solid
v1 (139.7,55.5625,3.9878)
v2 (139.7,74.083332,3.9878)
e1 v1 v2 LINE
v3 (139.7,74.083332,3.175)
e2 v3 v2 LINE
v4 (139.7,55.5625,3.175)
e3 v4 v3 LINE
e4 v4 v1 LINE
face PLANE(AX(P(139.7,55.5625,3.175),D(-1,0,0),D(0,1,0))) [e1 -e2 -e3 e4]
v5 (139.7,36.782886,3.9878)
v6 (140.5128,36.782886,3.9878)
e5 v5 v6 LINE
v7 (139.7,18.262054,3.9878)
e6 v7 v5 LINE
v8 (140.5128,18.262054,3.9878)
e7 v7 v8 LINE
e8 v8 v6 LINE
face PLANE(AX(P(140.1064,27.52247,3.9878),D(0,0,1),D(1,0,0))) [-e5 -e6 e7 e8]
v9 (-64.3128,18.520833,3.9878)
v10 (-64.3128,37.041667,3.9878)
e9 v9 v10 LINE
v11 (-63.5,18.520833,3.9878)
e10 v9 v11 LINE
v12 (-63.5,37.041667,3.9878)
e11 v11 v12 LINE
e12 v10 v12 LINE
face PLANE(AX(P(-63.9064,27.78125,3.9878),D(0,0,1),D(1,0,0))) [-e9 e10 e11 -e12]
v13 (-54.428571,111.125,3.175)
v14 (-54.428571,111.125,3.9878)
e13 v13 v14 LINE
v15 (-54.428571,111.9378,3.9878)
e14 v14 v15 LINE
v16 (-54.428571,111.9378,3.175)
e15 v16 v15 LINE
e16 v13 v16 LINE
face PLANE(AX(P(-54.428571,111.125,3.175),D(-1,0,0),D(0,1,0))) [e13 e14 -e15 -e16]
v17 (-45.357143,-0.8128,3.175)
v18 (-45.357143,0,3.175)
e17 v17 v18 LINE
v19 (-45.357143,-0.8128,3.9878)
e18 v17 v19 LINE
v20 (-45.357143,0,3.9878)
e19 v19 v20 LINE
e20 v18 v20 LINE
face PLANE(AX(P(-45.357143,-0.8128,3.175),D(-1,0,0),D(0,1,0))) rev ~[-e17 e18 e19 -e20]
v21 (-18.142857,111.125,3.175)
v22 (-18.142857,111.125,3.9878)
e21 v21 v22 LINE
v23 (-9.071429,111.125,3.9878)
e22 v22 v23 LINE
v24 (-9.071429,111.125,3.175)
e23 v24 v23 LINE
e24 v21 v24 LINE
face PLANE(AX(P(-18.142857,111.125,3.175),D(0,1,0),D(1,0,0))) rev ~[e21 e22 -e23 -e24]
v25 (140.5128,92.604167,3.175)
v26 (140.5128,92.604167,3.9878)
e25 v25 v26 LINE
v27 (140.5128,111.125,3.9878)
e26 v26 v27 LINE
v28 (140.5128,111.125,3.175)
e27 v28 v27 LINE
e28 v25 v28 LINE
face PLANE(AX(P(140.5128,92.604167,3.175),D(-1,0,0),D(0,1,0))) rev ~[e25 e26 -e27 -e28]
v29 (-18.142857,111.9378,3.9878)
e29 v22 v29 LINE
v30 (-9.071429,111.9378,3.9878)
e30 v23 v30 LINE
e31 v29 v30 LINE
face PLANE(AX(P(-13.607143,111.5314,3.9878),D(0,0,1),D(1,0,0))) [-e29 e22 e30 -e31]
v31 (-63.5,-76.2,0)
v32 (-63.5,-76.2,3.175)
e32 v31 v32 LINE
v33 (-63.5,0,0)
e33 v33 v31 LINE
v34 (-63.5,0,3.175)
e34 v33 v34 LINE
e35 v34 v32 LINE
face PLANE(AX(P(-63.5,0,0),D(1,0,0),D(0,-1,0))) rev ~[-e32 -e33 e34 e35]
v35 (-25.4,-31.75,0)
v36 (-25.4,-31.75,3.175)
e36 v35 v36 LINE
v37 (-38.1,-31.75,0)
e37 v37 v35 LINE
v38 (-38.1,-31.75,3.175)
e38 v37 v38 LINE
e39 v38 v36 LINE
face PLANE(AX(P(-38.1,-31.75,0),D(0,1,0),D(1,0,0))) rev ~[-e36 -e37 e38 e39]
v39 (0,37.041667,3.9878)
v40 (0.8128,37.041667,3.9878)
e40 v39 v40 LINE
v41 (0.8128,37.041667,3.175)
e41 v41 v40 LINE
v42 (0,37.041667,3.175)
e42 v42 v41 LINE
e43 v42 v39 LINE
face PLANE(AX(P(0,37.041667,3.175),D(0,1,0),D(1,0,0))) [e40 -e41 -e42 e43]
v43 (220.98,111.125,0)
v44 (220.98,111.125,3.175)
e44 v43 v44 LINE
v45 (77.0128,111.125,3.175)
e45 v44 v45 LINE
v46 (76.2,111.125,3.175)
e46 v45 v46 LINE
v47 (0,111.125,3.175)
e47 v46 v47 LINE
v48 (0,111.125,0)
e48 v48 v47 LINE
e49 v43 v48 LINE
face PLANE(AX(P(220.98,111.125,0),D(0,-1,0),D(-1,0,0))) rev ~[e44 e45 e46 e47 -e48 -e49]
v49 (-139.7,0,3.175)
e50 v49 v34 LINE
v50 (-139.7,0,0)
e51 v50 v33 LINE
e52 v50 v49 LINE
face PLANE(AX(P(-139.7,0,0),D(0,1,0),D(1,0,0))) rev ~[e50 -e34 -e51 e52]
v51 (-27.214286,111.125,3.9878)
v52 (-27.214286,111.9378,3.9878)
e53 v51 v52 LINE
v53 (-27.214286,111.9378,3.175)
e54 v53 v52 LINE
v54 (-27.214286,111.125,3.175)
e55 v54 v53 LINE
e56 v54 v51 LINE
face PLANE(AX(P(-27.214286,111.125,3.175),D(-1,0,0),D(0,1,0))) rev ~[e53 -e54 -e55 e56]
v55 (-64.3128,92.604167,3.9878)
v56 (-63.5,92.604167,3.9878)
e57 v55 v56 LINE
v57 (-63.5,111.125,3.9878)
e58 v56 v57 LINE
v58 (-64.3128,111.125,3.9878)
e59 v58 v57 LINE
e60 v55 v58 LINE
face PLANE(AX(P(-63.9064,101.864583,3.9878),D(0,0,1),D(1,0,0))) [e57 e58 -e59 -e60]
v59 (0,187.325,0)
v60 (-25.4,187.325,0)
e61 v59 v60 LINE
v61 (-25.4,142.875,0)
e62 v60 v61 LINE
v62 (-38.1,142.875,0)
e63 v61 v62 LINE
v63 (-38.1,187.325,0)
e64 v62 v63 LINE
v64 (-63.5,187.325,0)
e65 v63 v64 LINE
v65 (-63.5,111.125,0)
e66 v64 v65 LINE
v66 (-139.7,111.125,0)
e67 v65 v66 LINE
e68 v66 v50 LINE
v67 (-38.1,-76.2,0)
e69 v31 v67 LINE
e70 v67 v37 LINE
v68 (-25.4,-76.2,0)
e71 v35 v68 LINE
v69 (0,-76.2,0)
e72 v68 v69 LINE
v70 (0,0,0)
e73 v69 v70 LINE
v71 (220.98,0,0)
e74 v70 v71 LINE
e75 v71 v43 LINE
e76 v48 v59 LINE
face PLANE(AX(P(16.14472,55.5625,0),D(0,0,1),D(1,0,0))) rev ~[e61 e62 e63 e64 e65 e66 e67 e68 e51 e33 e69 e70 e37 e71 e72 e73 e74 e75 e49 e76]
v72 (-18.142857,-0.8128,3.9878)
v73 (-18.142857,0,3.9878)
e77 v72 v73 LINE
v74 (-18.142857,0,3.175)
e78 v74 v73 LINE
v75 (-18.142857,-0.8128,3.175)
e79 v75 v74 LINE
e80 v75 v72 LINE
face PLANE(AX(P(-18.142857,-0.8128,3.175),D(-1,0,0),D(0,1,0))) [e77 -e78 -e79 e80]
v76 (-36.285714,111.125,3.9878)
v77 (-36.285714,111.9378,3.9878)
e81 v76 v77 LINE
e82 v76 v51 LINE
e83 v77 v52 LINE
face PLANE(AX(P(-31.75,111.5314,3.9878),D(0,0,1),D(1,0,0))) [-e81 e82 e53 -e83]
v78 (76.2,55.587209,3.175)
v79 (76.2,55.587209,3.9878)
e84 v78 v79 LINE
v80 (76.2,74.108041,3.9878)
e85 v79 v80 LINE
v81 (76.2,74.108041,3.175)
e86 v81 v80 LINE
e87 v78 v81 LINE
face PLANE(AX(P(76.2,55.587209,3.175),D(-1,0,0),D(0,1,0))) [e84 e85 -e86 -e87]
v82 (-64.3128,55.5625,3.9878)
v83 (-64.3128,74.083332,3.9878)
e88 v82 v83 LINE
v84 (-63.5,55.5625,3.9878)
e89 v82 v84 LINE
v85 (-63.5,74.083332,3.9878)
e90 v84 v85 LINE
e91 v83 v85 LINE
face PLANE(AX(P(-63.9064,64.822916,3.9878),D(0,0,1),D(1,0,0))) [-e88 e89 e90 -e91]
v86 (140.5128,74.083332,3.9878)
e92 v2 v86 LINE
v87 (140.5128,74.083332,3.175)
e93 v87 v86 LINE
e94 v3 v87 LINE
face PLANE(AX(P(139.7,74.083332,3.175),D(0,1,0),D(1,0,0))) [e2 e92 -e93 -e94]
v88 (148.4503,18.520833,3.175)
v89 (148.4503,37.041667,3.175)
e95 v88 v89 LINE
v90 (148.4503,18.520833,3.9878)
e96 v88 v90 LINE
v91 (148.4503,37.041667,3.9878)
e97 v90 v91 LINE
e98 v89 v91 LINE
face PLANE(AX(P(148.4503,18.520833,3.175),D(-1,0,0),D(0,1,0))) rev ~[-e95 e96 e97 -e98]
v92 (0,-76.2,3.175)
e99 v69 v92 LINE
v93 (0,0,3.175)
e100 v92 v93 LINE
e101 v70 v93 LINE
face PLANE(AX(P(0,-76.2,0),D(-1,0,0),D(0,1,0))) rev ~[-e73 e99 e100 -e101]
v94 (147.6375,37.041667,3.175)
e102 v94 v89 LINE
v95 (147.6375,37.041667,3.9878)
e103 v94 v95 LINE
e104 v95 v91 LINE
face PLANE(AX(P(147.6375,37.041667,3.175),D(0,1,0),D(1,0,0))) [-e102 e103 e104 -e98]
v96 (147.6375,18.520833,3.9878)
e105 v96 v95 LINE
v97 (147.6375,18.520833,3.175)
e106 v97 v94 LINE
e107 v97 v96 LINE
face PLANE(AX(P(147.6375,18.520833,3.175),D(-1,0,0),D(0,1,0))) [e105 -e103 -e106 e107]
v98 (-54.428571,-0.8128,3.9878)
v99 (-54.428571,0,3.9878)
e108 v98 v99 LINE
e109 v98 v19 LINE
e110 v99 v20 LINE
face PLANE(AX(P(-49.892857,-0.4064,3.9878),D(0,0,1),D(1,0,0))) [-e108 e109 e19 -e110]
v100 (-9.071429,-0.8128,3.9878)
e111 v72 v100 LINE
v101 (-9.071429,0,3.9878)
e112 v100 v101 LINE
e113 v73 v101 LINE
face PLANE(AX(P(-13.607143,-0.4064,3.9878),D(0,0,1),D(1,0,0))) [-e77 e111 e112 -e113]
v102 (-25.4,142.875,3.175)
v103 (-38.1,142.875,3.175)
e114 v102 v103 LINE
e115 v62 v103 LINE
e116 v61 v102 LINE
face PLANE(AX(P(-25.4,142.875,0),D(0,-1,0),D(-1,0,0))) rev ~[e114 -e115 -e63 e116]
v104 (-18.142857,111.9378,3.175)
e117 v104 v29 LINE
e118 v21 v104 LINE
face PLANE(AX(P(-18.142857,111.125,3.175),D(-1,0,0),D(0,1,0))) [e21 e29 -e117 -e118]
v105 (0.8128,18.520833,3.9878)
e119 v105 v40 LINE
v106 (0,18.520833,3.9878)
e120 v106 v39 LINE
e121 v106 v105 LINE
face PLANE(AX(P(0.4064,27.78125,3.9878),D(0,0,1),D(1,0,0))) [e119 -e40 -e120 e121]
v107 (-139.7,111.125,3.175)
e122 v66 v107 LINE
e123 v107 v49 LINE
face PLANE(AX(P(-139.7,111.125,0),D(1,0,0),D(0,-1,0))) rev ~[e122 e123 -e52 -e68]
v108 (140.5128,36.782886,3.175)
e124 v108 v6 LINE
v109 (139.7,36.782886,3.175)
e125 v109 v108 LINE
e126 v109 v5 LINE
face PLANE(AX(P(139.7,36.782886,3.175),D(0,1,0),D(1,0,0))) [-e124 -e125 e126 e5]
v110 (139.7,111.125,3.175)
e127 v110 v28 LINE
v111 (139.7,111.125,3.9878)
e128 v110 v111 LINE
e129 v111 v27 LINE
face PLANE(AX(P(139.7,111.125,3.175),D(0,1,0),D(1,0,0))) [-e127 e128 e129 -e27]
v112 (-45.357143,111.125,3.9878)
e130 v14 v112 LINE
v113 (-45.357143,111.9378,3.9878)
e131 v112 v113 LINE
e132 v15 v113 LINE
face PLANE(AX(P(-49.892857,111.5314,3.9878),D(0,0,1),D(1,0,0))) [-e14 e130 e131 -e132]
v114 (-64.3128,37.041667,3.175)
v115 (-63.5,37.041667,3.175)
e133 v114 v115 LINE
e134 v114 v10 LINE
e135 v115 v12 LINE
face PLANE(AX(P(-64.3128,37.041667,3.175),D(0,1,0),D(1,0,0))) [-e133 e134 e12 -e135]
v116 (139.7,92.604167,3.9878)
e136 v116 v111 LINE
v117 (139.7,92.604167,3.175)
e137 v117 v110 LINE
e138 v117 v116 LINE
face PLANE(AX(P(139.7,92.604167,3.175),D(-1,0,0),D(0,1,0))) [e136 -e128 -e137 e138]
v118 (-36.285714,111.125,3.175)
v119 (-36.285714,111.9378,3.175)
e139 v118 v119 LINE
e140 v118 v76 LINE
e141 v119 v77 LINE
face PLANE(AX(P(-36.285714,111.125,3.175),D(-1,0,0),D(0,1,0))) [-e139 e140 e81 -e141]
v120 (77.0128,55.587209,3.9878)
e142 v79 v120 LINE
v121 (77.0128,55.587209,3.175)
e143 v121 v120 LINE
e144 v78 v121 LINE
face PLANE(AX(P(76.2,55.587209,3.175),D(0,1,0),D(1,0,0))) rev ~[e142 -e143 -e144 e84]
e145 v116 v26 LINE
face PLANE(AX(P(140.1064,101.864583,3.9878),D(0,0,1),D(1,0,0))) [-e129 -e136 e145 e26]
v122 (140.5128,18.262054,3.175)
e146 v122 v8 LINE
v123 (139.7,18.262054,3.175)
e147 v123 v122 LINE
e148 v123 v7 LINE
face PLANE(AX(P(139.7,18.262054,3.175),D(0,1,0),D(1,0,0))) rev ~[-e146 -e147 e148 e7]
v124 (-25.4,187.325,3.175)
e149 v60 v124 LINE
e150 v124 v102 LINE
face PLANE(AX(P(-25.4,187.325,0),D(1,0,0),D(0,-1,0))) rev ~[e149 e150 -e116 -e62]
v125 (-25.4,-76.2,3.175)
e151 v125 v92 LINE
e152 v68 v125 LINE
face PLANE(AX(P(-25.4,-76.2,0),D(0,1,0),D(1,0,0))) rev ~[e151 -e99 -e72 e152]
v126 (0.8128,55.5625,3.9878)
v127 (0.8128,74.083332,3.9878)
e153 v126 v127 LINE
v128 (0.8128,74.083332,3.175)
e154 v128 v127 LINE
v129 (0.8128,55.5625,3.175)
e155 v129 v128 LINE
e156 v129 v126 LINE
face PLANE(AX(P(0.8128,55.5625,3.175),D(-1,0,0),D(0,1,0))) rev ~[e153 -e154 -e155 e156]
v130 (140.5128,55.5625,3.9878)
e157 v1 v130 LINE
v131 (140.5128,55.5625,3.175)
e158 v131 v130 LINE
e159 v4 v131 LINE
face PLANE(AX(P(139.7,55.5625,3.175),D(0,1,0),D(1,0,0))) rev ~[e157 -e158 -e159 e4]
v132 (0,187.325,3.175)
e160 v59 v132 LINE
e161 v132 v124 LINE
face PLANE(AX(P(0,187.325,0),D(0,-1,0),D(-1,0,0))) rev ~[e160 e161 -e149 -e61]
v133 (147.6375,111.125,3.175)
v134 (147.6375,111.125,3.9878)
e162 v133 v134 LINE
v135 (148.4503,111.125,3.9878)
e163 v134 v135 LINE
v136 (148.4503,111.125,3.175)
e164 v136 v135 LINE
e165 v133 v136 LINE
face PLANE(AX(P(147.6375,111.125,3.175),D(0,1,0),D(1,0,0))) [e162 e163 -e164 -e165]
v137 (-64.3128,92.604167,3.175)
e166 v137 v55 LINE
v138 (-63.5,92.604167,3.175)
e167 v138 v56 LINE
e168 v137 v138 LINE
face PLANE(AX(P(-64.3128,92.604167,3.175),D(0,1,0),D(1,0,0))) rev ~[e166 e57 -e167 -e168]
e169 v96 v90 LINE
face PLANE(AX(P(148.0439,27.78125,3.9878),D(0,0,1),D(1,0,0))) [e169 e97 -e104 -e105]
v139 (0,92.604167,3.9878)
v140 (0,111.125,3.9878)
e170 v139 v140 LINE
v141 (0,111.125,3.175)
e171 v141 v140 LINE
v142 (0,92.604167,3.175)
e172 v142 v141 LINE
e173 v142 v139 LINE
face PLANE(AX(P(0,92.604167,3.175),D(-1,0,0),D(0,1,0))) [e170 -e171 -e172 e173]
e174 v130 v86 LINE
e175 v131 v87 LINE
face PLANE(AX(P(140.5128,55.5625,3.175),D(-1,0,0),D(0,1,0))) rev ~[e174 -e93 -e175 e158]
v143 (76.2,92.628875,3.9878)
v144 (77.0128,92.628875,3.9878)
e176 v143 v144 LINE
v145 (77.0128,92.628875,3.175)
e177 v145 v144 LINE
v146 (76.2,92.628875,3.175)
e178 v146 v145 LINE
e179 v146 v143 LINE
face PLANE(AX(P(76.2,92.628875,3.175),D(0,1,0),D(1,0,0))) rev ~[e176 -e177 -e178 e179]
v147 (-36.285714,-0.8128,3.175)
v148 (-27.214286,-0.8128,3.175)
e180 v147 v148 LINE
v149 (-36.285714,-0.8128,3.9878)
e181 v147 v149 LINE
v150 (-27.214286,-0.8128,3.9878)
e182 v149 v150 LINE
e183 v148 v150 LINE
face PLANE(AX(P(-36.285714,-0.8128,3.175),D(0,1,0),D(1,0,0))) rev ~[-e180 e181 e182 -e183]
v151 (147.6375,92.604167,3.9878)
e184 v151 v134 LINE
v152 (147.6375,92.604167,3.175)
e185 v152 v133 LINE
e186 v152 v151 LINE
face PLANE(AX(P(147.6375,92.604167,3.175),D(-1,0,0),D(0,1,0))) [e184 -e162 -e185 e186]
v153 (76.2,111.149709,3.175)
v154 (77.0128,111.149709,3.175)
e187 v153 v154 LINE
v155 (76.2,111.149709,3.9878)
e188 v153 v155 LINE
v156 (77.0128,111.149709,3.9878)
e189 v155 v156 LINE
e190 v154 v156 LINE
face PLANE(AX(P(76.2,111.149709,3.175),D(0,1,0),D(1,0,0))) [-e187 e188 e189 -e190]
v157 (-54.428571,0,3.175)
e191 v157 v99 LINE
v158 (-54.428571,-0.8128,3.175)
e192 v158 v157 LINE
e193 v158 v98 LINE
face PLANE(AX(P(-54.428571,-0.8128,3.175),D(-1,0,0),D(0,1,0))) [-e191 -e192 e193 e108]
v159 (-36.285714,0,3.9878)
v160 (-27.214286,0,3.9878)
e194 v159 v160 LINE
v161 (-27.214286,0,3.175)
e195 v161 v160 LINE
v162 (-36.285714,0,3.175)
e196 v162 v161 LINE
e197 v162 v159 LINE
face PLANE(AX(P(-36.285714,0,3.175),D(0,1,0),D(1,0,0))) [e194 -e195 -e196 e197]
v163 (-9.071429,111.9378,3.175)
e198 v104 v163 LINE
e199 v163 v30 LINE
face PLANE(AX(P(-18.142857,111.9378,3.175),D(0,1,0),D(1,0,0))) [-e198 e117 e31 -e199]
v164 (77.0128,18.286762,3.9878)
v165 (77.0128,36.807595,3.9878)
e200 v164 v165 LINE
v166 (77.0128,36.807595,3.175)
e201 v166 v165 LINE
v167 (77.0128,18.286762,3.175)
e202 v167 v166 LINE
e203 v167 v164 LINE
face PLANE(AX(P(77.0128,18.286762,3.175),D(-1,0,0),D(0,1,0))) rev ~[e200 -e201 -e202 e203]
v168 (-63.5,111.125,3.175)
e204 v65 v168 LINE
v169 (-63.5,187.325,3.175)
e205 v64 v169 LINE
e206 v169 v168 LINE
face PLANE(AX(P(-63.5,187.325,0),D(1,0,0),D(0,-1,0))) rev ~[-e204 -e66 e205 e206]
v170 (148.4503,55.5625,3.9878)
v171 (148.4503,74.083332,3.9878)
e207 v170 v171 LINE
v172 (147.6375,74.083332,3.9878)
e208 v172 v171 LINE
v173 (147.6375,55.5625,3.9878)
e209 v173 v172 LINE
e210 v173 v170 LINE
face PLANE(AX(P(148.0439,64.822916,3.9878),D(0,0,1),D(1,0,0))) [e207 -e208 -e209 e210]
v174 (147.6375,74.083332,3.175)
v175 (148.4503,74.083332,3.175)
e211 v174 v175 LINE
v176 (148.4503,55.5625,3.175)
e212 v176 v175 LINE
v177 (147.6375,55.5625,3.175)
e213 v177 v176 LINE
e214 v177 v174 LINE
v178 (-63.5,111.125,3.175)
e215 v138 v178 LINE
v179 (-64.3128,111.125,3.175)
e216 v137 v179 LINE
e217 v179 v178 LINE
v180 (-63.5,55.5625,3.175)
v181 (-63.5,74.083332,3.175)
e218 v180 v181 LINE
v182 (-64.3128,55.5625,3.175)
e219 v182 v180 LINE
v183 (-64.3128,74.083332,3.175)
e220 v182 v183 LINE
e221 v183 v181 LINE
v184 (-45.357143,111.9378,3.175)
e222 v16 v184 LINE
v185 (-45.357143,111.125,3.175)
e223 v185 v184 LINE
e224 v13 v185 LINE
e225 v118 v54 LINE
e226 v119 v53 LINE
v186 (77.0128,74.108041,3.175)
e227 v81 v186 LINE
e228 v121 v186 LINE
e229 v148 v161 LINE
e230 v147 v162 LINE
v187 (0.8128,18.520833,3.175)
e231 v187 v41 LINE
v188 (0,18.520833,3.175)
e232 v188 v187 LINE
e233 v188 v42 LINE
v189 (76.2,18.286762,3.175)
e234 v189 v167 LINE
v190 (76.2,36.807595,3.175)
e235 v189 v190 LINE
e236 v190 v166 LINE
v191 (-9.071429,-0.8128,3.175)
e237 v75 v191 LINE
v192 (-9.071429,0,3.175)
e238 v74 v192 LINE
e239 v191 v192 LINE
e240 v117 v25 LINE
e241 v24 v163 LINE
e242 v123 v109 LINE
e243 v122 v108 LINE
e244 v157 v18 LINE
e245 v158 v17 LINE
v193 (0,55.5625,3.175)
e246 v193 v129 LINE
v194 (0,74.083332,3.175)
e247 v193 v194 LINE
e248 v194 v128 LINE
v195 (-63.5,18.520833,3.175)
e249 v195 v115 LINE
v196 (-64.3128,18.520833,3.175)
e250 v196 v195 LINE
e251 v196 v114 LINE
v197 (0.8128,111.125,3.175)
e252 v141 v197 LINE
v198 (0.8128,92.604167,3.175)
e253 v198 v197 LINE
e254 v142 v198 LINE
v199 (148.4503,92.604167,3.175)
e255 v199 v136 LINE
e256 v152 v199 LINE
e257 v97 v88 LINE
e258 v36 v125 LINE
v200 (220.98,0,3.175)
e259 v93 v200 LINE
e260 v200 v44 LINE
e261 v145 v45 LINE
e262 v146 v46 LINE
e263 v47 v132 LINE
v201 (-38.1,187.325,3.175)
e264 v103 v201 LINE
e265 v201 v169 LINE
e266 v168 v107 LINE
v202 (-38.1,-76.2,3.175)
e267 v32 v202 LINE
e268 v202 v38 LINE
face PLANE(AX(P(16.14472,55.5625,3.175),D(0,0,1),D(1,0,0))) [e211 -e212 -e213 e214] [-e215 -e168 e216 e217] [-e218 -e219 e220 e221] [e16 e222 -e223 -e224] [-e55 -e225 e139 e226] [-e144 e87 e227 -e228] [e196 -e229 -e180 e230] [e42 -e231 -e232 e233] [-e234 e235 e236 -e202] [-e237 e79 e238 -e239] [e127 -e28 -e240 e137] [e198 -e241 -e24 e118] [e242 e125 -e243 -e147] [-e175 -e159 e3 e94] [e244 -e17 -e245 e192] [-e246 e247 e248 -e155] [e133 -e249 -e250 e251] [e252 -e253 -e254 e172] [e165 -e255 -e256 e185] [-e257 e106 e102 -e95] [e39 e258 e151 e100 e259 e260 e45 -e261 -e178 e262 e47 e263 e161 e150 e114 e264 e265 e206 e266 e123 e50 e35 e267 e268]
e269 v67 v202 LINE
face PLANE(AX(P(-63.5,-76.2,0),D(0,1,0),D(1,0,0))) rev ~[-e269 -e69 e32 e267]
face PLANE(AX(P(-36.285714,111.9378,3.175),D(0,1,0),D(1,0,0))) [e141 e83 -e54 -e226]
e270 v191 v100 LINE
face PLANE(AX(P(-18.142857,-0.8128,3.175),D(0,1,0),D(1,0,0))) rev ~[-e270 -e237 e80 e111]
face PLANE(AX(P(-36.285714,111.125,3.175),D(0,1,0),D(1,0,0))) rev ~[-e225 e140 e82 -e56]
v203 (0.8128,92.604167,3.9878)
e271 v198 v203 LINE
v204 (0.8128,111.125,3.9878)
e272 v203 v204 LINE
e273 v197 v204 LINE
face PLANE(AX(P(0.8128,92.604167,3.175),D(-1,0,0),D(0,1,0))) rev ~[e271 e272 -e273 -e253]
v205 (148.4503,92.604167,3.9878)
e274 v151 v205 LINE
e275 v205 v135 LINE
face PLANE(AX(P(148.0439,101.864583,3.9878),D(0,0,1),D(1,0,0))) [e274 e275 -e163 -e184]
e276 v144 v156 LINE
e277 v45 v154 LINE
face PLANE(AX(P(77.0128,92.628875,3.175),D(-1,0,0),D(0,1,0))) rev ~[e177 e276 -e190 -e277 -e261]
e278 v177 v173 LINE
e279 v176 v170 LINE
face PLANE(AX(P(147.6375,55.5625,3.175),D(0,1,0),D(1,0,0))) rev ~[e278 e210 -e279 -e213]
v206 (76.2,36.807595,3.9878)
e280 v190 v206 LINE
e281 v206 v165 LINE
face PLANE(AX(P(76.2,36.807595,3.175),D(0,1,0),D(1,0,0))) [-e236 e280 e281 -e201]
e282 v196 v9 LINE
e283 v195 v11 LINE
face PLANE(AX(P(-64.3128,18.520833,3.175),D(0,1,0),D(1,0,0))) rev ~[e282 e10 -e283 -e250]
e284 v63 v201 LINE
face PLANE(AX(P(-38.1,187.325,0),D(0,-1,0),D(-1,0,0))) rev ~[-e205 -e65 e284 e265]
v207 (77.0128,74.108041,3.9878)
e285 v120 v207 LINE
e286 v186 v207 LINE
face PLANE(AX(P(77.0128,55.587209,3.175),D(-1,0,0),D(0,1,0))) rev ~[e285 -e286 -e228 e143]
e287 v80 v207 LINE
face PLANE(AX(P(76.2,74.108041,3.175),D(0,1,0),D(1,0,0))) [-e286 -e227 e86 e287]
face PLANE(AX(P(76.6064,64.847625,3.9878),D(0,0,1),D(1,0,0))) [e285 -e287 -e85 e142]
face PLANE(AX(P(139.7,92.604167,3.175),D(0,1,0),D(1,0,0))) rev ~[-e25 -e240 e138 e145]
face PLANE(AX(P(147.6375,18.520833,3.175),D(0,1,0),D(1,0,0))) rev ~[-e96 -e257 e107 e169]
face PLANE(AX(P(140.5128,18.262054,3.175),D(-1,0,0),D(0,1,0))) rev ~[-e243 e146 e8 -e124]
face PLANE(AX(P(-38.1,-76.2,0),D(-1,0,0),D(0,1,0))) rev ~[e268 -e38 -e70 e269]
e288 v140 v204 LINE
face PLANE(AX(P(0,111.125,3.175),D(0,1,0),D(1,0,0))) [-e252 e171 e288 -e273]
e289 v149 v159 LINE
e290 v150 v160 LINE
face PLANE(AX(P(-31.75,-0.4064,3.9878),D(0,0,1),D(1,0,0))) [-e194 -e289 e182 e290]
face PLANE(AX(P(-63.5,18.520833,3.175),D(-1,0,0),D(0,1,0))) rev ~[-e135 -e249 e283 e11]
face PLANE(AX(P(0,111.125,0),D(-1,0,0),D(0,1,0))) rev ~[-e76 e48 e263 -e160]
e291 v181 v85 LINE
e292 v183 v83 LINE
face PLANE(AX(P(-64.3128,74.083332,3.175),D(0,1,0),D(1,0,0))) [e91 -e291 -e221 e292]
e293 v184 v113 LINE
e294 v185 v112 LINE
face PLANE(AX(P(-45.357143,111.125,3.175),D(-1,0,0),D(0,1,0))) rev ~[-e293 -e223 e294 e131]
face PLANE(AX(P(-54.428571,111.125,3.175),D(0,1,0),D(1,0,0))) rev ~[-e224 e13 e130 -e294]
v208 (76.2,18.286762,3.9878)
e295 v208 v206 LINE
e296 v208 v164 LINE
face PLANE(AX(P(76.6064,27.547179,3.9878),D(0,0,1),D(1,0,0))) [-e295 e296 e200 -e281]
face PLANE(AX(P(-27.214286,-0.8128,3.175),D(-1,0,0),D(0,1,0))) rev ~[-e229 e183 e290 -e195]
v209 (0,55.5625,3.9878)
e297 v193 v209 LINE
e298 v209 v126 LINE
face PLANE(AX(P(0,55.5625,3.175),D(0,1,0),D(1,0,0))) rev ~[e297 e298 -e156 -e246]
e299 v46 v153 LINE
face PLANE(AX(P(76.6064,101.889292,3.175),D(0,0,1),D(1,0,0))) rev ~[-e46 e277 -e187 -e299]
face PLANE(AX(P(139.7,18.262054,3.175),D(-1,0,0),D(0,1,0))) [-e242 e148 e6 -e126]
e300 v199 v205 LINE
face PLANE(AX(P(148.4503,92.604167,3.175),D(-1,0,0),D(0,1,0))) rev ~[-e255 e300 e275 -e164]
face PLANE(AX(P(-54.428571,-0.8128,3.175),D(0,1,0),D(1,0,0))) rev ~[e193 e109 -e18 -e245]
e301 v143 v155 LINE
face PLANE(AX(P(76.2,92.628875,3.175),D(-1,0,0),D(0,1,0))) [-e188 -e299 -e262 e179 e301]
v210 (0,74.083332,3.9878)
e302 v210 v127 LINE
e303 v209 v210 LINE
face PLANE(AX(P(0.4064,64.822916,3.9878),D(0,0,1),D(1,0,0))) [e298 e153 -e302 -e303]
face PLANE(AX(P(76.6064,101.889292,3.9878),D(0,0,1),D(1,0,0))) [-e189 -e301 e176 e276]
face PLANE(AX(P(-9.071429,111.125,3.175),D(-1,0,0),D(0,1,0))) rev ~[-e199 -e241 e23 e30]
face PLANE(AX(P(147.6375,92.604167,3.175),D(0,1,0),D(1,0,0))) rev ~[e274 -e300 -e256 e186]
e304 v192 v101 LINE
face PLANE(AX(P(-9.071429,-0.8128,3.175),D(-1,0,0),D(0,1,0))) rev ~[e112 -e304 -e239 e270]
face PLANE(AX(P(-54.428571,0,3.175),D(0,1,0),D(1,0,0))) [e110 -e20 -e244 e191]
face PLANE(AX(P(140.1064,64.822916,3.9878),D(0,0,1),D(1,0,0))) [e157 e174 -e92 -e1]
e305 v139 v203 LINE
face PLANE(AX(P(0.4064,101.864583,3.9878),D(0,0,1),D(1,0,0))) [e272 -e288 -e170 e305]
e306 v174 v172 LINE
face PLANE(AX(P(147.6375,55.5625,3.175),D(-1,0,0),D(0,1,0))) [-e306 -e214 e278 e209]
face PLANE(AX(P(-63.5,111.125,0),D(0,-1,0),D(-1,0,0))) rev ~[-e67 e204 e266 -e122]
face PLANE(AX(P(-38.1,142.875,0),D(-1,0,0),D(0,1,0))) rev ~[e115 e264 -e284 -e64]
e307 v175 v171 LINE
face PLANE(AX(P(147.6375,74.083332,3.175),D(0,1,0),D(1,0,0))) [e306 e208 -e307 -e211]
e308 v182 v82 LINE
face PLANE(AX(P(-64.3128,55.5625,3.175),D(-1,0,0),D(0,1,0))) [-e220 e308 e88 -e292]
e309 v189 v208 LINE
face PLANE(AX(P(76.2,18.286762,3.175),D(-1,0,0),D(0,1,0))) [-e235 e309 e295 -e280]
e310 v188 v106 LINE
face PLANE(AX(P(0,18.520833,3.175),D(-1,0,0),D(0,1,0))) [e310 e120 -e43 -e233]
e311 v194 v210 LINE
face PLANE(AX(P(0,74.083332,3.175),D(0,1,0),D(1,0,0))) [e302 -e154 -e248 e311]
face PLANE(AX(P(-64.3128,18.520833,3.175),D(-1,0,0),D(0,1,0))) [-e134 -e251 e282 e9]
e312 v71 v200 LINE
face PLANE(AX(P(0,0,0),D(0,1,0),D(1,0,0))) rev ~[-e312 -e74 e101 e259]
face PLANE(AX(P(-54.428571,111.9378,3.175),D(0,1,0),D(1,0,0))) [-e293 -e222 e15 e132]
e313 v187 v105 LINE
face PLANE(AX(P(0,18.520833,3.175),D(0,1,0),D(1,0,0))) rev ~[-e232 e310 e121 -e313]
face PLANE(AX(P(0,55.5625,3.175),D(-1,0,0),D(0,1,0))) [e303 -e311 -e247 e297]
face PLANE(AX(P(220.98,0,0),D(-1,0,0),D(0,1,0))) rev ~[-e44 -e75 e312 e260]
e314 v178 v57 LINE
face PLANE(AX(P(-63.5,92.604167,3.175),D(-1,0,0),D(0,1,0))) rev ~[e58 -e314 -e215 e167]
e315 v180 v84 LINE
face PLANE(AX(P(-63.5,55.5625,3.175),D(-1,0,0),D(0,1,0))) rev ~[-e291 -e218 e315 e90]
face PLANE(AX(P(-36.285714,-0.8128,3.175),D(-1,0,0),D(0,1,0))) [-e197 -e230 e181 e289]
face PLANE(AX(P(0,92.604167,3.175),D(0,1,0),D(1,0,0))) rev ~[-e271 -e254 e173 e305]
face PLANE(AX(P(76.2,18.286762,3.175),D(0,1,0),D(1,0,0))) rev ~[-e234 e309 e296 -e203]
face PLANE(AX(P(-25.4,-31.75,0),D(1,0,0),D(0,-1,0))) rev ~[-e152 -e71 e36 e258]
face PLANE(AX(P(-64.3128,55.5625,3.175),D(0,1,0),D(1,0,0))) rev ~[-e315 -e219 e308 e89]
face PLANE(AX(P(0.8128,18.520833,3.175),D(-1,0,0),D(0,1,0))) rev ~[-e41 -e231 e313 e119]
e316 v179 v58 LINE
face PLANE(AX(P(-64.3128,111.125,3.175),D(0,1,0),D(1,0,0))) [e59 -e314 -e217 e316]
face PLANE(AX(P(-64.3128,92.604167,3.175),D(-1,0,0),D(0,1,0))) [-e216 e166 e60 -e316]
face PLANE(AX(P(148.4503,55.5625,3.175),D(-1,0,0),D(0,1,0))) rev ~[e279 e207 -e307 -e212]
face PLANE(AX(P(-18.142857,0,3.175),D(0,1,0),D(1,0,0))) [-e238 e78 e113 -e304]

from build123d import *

# Parameters (mm, degrees)
F1_DEPTH = 3.175
F2_W     = 0.8128
F2_H     = 18.520833
F2_H_2   = 18.520834
F2_W_2   = 9.071428
F2_H_3   = 0.8128
F3_DEPTH = 0.8128


with BuildPart() as f1:
    # F0 (on Top) → F1 (new body)
    with BuildSketch(Plane.XY):
        Polygon((0, 111.125), (0, 187.325), (-25.4, 187.325), (-25.4, 142.875), (-38.1, 142.875), (-38.1, 187.325), (-63.5, 187.325), (-63.5, 111.125), (-139.7, 111.125), (-139.7, 0), (-63.5, 0), (-63.5, -76.2), (-38.1, -76.2), (-38.1, -31.75), (-25.4, -31.75), (-25.4, -76.2), (0, -76.2), (0, 0), (220.98, 0), (220.98, 111.125), align=None)
    extrude(amount=F1_DEPTH)

    # F2 (on face) → F3 (join)
    with BuildSketch(Plane.XY.offset(3.175)):
        with Locations((-63.9064, 101.864583)):
            Rectangle(F2_W, F2_H)
        with Locations((-63.9064, 64.822916)):
            Rectangle(F2_W, F2_H)
        with Locations((-63.9064, 27.78125)):
            Rectangle(F2_W, F2_H_2)
        with Locations((0.4064, 27.78125)):
            Rectangle(F2_W, F2_H_2)
        with Locations((0.4064, 64.822916)):
            Rectangle(F2_W, F2_H)
        with Locations((0.4064, 101.864583)):
            Rectangle(F2_W, F2_H)
        with Locations((76.6064, 101.889292)):
            Rectangle(F2_W, F2_H_2)
        with Locations((76.6064, 64.847625)):
            Rectangle(F2_W, F2_H)
        with Locations((76.6064, 27.547179)):
            Rectangle(F2_W, F2_H)
        with Locations((140.1064, 101.864583)):
            Rectangle(F2_W, F2_H)
        with Locations((140.1064, 27.52247)):
            Rectangle(F2_W, F2_H)
        with Locations((140.1064, 64.822916)):
            Rectangle(F2_W, F2_H)
        with Locations((148.0439, 101.864583)):
            Rectangle(F2_W, F2_H)
        with Locations((148.0439, 64.822916)):
            Rectangle(F2_W, F2_H)
        with Locations((148.0439, 27.78125)):
            Rectangle(F2_W, F2_H_2)
        with Locations((-49.892857, -0.4064)):
            Rectangle(F2_W_2, F2_H_3)
        with Locations((-31.75, -0.4064)):
            Rectangle(F2_W_2, F2_H_3)
        with Locations((-13.607143, -0.4064)):
            Rectangle(F2_W_2, F2_H_3)
        with Locations((-31.75, 111.5314)):
            Rectangle(F2_W_2, F2_H_3)
        with Locations((-13.607143, 111.5314)):
            Rectangle(F2_W_2, F2_H_3)
        with Locations((-49.892857, 111.5314)):
            Rectangle(F2_W_2, F2_H_3)
    extrude(amount=F3_DEPTH)


solid = f1.part
